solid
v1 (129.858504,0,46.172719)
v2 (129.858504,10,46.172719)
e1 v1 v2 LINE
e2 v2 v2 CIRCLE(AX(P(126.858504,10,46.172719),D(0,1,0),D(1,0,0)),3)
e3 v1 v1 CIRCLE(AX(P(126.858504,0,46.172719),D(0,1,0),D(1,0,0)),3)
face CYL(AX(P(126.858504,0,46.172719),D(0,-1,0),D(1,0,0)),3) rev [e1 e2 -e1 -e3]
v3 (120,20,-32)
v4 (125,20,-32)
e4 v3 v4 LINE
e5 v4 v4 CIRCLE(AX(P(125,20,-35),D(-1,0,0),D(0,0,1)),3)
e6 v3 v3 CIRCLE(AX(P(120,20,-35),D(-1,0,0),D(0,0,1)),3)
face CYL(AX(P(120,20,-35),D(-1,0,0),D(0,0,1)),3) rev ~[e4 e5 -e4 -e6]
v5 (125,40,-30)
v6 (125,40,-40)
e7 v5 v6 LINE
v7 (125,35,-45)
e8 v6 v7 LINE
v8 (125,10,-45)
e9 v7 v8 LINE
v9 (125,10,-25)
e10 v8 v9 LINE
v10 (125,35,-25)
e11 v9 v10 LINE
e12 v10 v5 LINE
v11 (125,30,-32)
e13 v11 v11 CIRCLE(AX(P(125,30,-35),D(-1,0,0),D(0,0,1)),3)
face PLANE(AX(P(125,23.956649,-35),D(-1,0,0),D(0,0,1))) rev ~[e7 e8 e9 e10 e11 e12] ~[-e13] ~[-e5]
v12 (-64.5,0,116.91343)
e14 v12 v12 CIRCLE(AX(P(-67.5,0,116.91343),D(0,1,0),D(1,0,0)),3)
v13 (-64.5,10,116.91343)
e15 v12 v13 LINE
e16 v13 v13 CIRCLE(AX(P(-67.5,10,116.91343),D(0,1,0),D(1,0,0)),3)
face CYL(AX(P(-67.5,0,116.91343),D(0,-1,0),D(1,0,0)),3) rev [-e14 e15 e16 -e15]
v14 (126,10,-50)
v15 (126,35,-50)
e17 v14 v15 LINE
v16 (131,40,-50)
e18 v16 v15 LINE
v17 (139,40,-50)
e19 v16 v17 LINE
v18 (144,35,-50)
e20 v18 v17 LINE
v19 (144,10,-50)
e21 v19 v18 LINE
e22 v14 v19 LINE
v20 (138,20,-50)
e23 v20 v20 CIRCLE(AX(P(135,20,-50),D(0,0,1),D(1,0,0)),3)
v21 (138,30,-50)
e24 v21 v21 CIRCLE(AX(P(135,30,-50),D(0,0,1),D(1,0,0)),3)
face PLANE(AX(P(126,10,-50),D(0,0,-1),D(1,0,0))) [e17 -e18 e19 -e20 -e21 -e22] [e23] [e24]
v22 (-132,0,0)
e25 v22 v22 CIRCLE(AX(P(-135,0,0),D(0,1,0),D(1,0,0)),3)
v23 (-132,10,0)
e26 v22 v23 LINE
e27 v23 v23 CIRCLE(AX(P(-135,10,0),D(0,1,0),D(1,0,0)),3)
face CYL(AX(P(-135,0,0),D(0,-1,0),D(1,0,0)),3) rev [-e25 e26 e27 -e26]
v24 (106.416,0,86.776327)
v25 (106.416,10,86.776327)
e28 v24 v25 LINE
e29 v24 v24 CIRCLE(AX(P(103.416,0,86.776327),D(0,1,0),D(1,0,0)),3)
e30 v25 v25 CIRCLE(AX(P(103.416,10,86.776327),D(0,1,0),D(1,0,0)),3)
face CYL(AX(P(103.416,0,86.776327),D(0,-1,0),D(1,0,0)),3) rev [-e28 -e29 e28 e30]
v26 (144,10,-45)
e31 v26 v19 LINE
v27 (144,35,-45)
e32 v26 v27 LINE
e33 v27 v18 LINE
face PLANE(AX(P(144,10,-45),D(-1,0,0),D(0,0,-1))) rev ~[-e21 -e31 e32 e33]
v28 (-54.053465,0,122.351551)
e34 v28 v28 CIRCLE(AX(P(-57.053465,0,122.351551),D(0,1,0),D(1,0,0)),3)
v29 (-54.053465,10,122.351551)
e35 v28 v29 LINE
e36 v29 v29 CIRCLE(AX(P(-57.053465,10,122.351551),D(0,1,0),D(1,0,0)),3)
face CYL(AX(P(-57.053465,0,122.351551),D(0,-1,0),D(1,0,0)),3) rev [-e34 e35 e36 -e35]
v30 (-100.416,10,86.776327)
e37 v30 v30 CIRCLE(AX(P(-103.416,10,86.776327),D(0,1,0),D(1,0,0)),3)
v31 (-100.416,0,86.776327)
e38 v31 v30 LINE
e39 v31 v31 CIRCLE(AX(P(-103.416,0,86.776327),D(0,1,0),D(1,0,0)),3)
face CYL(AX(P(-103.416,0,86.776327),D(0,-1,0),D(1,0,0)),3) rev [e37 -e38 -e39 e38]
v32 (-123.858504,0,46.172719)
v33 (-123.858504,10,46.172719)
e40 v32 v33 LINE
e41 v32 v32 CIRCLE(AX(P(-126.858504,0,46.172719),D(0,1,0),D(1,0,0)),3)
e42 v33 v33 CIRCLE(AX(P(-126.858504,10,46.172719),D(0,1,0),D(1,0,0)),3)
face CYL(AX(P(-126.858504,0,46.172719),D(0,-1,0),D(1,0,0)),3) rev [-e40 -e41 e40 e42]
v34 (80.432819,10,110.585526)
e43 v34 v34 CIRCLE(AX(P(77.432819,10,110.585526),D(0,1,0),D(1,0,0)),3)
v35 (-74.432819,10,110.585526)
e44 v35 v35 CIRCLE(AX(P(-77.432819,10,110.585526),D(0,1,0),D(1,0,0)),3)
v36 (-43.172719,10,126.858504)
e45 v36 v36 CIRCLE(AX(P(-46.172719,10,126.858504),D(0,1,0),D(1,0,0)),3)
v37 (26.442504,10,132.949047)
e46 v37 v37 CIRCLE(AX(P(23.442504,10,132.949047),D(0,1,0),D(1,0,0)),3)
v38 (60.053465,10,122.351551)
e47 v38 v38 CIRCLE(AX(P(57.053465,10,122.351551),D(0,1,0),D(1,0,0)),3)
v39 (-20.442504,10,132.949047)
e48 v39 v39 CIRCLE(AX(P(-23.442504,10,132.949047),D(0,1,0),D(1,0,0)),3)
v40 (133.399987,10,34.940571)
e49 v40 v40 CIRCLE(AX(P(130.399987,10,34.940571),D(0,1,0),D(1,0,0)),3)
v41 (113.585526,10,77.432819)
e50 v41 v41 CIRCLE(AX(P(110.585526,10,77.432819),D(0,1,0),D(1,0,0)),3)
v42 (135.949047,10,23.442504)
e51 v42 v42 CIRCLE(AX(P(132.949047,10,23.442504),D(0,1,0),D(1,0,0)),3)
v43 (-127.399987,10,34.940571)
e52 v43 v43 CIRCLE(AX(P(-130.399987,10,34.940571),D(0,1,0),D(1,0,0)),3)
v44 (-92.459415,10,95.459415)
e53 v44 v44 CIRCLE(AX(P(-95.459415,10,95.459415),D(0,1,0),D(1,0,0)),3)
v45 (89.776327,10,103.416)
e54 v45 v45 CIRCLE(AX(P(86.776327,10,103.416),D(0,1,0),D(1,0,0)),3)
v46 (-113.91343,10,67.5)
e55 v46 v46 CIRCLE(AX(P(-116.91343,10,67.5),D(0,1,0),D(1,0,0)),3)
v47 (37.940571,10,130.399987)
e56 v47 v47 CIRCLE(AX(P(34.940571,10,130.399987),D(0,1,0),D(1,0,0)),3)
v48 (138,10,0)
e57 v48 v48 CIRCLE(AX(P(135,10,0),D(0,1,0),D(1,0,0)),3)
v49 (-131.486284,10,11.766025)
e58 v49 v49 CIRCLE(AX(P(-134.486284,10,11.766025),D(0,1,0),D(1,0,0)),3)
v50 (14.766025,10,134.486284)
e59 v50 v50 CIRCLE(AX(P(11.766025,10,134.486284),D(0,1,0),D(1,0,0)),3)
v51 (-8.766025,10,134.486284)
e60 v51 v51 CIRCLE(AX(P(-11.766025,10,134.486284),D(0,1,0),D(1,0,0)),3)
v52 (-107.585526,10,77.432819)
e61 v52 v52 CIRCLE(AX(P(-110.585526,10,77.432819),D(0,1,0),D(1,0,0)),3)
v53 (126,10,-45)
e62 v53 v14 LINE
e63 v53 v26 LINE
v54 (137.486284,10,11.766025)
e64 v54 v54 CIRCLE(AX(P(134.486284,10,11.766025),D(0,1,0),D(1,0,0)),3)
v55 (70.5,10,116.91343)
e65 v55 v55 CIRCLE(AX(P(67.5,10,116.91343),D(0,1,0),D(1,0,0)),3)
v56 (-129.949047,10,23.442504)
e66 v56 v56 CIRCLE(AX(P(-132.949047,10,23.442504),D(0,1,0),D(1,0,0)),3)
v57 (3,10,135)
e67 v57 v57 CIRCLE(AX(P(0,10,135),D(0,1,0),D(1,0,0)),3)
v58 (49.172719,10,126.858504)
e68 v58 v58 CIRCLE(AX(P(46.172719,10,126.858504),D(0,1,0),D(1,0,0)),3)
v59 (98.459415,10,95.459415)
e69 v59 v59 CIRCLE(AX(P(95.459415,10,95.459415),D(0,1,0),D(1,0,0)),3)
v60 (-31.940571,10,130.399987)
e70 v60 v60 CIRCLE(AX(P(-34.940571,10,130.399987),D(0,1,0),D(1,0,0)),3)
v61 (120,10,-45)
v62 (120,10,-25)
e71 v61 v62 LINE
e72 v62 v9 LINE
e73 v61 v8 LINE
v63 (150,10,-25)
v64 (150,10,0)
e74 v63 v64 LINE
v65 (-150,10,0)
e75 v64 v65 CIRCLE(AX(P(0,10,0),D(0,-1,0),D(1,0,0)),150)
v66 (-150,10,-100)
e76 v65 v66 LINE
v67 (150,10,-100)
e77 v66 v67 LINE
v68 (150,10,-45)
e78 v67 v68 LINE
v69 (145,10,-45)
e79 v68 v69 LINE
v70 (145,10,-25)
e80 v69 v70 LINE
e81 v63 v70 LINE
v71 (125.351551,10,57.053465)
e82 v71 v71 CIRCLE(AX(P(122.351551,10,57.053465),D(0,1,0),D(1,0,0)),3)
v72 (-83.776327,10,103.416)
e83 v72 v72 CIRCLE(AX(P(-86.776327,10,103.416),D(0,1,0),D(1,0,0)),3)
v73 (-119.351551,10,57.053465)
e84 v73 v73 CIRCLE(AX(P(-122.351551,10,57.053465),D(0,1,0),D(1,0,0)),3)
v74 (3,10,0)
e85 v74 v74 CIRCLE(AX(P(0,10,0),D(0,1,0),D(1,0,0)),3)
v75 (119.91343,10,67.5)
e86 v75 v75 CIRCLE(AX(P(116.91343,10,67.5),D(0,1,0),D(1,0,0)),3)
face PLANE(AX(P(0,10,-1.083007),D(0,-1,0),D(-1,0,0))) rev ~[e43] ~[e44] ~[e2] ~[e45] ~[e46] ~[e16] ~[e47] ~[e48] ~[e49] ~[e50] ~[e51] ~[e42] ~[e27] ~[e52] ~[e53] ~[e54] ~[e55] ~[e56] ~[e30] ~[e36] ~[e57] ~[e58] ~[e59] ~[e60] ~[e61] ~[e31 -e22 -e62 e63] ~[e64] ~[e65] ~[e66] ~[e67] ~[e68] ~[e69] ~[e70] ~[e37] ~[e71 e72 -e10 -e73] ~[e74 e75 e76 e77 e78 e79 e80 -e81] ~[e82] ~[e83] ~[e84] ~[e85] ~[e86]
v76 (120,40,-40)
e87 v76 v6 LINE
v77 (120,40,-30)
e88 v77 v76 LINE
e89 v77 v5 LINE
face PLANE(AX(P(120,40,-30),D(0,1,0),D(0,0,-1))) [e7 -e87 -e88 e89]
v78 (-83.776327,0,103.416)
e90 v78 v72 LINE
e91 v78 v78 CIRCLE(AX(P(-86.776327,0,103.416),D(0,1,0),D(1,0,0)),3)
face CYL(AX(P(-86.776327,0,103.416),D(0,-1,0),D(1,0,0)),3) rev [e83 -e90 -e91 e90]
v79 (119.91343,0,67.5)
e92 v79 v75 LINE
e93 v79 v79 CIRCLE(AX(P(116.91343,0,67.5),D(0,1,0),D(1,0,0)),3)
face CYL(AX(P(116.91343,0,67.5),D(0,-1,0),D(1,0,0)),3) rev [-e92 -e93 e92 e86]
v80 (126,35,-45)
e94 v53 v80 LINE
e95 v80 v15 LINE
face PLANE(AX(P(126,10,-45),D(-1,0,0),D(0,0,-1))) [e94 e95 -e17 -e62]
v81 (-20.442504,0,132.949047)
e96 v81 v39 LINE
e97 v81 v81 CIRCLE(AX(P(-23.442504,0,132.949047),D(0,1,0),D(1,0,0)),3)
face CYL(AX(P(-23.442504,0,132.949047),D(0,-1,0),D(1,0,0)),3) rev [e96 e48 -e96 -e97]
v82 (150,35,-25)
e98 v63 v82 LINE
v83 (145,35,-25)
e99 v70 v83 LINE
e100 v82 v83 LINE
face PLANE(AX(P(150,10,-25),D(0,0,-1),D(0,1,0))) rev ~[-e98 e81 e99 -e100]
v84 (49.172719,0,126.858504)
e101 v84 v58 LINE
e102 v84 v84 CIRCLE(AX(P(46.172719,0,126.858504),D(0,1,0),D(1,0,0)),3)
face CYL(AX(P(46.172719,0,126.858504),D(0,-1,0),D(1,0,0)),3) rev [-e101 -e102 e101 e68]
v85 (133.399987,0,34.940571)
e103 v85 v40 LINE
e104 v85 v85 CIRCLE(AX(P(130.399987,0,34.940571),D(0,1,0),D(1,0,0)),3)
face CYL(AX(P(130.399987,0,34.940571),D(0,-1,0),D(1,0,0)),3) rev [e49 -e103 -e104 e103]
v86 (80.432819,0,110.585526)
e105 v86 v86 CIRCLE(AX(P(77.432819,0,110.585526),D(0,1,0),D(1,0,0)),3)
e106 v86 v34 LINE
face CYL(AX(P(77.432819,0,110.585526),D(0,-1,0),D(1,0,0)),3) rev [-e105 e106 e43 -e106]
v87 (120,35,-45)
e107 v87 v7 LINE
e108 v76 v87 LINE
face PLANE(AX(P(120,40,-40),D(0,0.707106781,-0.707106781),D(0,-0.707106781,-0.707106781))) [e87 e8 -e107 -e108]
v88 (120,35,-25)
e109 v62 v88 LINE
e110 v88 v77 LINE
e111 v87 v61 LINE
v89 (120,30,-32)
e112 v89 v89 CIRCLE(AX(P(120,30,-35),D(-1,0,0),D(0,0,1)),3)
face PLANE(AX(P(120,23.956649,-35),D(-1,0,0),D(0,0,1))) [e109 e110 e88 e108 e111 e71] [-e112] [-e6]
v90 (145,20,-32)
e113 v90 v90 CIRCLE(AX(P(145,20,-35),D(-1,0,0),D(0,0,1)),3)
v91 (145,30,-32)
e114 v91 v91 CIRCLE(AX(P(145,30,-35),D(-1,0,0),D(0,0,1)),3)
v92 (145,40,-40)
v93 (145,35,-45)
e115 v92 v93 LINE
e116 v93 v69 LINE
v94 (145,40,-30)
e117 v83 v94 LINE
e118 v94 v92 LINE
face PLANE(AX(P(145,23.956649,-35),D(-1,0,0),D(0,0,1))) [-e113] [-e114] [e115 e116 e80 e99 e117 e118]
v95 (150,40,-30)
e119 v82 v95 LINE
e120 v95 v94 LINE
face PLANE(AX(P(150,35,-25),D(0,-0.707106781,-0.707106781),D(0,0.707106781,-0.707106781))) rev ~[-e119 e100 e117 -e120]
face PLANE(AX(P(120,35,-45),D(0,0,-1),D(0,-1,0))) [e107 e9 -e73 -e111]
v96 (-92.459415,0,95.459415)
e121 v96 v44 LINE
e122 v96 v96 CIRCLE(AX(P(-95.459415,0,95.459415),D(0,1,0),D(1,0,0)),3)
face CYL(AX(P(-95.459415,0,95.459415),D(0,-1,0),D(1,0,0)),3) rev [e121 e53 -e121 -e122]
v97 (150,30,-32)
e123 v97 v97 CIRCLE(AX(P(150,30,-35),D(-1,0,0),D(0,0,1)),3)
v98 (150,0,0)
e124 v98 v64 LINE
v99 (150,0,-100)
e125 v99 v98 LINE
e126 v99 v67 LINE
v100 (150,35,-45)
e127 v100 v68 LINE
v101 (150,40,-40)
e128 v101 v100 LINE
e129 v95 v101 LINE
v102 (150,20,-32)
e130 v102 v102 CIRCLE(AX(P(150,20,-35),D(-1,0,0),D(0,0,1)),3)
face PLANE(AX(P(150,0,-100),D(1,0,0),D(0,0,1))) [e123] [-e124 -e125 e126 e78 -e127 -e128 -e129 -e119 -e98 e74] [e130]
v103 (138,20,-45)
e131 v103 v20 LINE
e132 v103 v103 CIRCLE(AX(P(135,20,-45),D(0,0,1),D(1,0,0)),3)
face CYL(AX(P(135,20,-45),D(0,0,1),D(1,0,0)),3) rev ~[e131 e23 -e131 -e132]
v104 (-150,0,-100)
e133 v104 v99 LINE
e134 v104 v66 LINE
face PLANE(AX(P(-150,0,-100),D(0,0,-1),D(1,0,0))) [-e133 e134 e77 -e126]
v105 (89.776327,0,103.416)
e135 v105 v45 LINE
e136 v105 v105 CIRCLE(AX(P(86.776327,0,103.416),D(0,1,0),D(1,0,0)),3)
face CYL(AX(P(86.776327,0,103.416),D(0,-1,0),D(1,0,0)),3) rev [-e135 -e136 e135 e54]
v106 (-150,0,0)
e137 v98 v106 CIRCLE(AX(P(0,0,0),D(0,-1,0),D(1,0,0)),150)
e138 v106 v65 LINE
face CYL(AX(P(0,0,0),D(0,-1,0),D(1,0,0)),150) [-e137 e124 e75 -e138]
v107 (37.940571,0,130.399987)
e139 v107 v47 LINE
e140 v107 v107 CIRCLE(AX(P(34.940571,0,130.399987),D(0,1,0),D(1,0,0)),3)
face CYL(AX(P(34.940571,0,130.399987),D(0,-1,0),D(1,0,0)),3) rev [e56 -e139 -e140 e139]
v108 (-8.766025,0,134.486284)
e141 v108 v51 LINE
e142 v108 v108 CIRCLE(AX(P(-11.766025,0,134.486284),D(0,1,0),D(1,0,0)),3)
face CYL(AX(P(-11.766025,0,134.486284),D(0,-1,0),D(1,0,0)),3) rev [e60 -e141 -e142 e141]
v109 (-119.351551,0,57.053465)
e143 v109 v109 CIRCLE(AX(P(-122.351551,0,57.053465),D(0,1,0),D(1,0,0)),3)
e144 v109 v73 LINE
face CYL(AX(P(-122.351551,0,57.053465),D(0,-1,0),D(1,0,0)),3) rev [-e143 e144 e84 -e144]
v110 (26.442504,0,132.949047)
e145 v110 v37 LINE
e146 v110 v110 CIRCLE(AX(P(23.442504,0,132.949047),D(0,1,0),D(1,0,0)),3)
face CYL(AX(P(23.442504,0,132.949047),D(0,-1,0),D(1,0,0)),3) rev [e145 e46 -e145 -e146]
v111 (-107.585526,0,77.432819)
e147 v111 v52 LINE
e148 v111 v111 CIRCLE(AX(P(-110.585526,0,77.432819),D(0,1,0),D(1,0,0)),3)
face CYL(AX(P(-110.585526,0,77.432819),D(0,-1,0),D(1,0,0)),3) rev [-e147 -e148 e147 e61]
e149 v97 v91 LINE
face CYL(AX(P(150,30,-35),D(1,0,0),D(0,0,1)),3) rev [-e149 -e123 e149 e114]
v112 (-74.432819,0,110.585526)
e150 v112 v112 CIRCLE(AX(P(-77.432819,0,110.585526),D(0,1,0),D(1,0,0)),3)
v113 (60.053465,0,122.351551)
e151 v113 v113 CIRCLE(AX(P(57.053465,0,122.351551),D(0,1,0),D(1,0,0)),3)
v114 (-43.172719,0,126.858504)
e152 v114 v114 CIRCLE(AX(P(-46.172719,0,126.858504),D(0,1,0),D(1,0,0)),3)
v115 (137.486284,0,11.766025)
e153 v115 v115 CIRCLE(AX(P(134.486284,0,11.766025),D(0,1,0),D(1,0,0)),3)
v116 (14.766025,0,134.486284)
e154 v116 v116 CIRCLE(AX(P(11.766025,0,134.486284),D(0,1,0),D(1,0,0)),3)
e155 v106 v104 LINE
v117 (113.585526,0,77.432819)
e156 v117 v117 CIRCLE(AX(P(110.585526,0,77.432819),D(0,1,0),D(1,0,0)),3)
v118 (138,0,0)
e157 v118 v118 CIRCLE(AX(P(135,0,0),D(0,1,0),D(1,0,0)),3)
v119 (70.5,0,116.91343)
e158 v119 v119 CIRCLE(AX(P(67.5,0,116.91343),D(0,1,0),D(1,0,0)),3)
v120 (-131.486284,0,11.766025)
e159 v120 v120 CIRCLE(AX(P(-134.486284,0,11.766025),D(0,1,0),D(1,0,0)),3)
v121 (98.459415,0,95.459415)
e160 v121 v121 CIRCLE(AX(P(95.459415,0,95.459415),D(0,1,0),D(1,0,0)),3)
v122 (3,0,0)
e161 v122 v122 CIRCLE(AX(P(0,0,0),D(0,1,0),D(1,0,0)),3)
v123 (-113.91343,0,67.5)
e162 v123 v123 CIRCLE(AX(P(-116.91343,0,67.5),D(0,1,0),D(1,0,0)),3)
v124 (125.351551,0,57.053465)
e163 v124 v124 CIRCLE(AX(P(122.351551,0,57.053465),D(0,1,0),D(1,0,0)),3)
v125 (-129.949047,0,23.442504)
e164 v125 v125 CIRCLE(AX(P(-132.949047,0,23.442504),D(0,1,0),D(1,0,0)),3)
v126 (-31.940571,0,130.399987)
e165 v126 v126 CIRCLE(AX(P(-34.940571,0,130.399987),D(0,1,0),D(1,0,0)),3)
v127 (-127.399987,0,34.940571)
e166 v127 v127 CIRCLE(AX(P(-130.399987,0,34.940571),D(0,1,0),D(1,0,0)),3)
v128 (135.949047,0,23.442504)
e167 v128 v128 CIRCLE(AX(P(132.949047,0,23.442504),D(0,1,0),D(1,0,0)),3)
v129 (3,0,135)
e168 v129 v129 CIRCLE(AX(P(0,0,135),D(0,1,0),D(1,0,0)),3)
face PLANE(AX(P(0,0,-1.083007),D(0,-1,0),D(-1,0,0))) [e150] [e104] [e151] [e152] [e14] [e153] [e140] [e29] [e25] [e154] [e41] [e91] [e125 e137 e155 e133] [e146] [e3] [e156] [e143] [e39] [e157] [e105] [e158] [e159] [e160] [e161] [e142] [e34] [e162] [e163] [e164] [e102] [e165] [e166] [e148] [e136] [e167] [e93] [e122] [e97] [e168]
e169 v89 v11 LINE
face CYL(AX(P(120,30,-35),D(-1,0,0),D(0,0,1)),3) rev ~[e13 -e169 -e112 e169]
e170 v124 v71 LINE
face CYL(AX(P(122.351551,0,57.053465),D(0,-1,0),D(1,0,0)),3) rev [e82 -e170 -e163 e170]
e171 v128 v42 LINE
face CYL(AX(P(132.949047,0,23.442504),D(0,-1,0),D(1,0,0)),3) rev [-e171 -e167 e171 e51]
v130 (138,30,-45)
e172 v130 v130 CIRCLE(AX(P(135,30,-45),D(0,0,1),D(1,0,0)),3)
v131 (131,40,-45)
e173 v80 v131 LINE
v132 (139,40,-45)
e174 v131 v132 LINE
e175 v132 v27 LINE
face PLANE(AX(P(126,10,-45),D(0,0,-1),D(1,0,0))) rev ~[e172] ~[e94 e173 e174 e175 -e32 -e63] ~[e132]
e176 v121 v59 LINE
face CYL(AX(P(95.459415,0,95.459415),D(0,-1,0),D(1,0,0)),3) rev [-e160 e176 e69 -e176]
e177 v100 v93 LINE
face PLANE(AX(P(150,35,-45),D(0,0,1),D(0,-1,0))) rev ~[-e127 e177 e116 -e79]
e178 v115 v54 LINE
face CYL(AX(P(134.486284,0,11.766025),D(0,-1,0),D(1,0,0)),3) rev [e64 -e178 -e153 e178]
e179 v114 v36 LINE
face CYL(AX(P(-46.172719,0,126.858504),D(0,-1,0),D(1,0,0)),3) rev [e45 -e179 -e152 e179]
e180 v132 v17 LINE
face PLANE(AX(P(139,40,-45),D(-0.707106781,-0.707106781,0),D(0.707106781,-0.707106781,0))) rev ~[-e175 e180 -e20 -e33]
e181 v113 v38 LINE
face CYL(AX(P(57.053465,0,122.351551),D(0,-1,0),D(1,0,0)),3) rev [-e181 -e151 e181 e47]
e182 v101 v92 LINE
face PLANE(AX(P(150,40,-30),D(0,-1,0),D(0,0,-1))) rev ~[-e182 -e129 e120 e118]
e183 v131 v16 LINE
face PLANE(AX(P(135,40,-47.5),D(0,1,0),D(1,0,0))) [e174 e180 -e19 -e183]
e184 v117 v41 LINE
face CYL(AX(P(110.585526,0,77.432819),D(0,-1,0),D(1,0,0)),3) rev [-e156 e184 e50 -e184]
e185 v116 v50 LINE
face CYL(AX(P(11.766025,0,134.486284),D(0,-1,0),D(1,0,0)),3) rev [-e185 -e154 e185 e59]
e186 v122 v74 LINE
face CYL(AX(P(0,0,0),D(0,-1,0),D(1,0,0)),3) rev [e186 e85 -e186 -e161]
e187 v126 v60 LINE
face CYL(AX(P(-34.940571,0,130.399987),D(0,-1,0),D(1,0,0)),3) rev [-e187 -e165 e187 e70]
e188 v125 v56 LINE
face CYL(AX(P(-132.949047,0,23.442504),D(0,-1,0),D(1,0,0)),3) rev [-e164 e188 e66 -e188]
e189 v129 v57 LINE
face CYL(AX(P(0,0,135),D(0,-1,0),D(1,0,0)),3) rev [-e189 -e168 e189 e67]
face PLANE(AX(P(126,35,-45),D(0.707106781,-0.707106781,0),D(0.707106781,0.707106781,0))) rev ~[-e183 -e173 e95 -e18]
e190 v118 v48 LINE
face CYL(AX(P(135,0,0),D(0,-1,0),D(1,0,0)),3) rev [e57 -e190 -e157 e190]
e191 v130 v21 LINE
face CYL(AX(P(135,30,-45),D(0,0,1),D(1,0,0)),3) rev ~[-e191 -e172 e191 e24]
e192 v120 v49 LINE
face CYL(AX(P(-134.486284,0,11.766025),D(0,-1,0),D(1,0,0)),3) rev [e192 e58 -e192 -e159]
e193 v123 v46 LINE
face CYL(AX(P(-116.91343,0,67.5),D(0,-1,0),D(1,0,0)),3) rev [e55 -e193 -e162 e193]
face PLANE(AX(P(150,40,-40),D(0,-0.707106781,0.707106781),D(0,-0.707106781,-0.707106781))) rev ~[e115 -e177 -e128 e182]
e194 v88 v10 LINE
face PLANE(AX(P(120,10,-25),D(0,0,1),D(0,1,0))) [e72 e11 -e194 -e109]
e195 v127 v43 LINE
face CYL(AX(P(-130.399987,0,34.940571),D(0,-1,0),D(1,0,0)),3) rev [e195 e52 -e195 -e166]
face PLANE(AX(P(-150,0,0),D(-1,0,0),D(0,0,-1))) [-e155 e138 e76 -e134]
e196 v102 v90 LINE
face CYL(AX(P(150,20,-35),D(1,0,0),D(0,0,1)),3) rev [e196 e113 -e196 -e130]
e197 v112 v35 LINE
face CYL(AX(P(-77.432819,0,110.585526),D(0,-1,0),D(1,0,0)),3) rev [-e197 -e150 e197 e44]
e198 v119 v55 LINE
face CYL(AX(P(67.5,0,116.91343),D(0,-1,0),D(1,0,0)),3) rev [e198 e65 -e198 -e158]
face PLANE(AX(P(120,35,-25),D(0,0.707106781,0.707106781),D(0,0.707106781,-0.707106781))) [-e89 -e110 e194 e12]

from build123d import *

# Parameters (mm, degrees)
SKETCH1_R           = 3
BOSS_EXTRUDE1_DEPTH = 10
BOSS_EXTRUDE2_START = -300
SKETCH2_R           = 3
BOSS_EXTRUDE2_DEPTH = 5
BOSS_EXTRUDE3_START = -270
SKETCH2_2_R         = 3
BOSS_EXTRUDE3_DEPTH = 5
SKETCH3_W           = 18
SKETCH3_H           = 5
BOSS_EXTRUDE5_DEPTH = 30
SKETCH4_R           = 3
CUT_EXTRUDE1_DEPTH  = 30


with BuildPart() as part:
    # Sketch1 → Boss-Extrude1 (new body)
    with BuildSketch(Plane(origin=(0, 0, 0), x_dir=(1, 0, 0), z_dir=(0, 1, 0))):
        with BuildLine():
            Line((-150, 100), (150, 100))
            Line((150, 100), (150, 0))
            ThreePointArc((150, 0), (0, -150), (-150, 0))
            Line((-150, 0), (-150, 100))
        make_face()
        Circle(SKETCH1_R, mode=Mode.SUBTRACT)
        with Locations((135, 0)):
            Circle(SKETCH1_R, mode=Mode.SUBTRACT)
        with Locations((134.486284242, -11.766025271)):
            Circle(SKETCH1_R, mode=Mode.SUBTRACT)
        with Locations((132.949046657, -23.442503985)):
            Circle(SKETCH1_R, mode=Mode.SUBTRACT)
        with Locations((130.399986549, -34.940571089)):
            Circle(SKETCH1_R, mode=Mode.SUBTRACT)
        with Locations((126.858503806, -46.172719349)):
            Circle(SKETCH1_R, mode=Mode.SUBTRACT)
        with Locations((122.35155125, -57.053465335)):
            Circle(SKETCH1_R, mode=Mode.SUBTRACT)
        with Locations((116.913429511, -67.5)):
            Circle(SKETCH1_R, mode=Mode.SUBTRACT)
        with Locations((110.585525979, -77.432818907)):
            Circle(SKETCH1_R, mode=Mode.SUBTRACT)
        with Locations((103.415999821, -86.776327308)):
            Circle(SKETCH1_R, mode=Mode.SUBTRACT)
        with Locations((95.45941546, -95.45941546)):
            Circle(SKETCH1_R, mode=Mode.SUBTRACT)
        with Locations((86.776327308, -103.415999821)):
            Circle(SKETCH1_R, mode=Mode.SUBTRACT)
        with Locations((77.432818907, -110.585525979)):
            Circle(SKETCH1_R, mode=Mode.SUBTRACT)
        with Locations((67.5, -116.913429511)):
            Circle(SKETCH1_R, mode=Mode.SUBTRACT)
        with Locations((57.053465335, -122.35155125)):
            Circle(SKETCH1_R, mode=Mode.SUBTRACT)
        with Locations((46.172719349, -126.858503806)):
            Circle(SKETCH1_R, mode=Mode.SUBTRACT)
        with Locations((34.940571089, -130.399986549)):
            Circle(SKETCH1_R, mode=Mode.SUBTRACT)
        with Locations((23.442503985, -132.949046657)):
            Circle(SKETCH1_R, mode=Mode.SUBTRACT)
        with Locations((11.766025271, -134.486284242)):
            Circle(SKETCH1_R, mode=Mode.SUBTRACT)
        with Locations((0, -135)):
            Circle(SKETCH1_R, mode=Mode.SUBTRACT)
        with Locations((-11.766025271, -134.486284242)):
            Circle(SKETCH1_R, mode=Mode.SUBTRACT)
        with Locations((-23.442503985, -132.949046657)):
            Circle(SKETCH1_R, mode=Mode.SUBTRACT)
        with Locations((-34.940571089, -130.399986549)):
            Circle(SKETCH1_R, mode=Mode.SUBTRACT)
        with Locations((-46.172719349, -126.858503806)):
            Circle(SKETCH1_R, mode=Mode.SUBTRACT)
        with Locations((-57.053465335, -122.35155125)):
            Circle(SKETCH1_R, mode=Mode.SUBTRACT)
        with Locations((-67.5, -116.913429511)):
            Circle(SKETCH1_R, mode=Mode.SUBTRACT)
        with Locations((-77.432818907, -110.585525979)):
            Circle(SKETCH1_R, mode=Mode.SUBTRACT)
        with Locations((-86.776327308, -103.415999821)):
            Circle(SKETCH1_R, mode=Mode.SUBTRACT)
        with Locations((-95.45941546, -95.45941546)):
            Circle(SKETCH1_R, mode=Mode.SUBTRACT)
        with Locations((-103.415999821, -86.776327308)):
            Circle(SKETCH1_R, mode=Mode.SUBTRACT)
        with Locations((-110.585525979, -77.432818907)):
            Circle(SKETCH1_R, mode=Mode.SUBTRACT)
        with Locations((-116.913429511, -67.5)):
            Circle(SKETCH1_R, mode=Mode.SUBTRACT)
        with Locations((-122.35155125, -57.053465335)):
            Circle(SKETCH1_R, mode=Mode.SUBTRACT)
        with Locations((-126.858503806, -46.172719349)):
            Circle(SKETCH1_R, mode=Mode.SUBTRACT)
        with Locations((-130.399986549, -34.940571089)):
            Circle(SKETCH1_R, mode=Mode.SUBTRACT)
        with Locations((-132.949046657, -23.442503985)):
            Circle(SKETCH1_R, mode=Mode.SUBTRACT)
        with Locations((-134.486284242, -11.766025271)):
            Circle(SKETCH1_R, mode=Mode.SUBTRACT)
        with Locations((-135, 0)):
            Circle(SKETCH1_R, mode=Mode.SUBTRACT)
    extrude(amount=BOSS_EXTRUDE1_DEPTH)

    # Sketch2 → Boss-Extrude2 (add)
    with BuildSketch(Plane.ZY.offset(150).offset(BOSS_EXTRUDE2_START)):
        Polygon((-25, 10), (-25, 35), (-30, 40), (-40, 40), (-45, 35), (-45, 10), align=None)
        with Locations((-35, 30)):
            Circle(SKETCH2_R, mode=Mode.SUBTRACT)
        with Locations((-35, 20)):
            Circle(SKETCH2_R, mode=Mode.SUBTRACT)
    extrude(amount=BOSS_EXTRUDE2_DEPTH)

    # Sketch2_2 → Boss-Extrude3 (add)
    with BuildSketch(Plane.ZY.offset(150).offset(BOSS_EXTRUDE3_START)):
        Polygon((-25, 10), (-25, 35), (-30, 40), (-40, 40), (-45, 35), (-45, 10), align=None)
        with Locations((-35, 30)):
            Circle(SKETCH2_2_R, mode=Mode.SUBTRACT)
        with Locations((-35, 20)):
            Circle(SKETCH2_2_R, mode=Mode.SUBTRACT)
    extrude(amount=-BOSS_EXTRUDE3_DEPTH)

    # Sketch3 → Boss-Extrude5 (add)
    with BuildSketch(Plane(origin=(0, 10, 0), x_dir=(1, 0, 0), z_dir=(0, 1, 0))):
        with Locations((135, 47.5)):
            Rectangle(SKETCH3_W, SKETCH3_H)
    extrude(amount=BOSS_EXTRUDE5_DEPTH)

    # Sketch4 → Cut-Extrude1 (cut)
    with BuildSketch(Plane.XY.offset(-45)):
        with Locations((135, 20)):
            Circle(SKETCH4_R)
        with Locations((135, 30)):
            Circle(SKETCH4_R)
        Polygon((126, 35), (131, 40), (126, 40), align=None)
        Polygon((139, 40), (144, 35), (144, 40), align=None)
    extrude(amount=-CUT_EXTRUDE1_DEPTH, mode=Mode.SUBTRACT)


solid = part.part
